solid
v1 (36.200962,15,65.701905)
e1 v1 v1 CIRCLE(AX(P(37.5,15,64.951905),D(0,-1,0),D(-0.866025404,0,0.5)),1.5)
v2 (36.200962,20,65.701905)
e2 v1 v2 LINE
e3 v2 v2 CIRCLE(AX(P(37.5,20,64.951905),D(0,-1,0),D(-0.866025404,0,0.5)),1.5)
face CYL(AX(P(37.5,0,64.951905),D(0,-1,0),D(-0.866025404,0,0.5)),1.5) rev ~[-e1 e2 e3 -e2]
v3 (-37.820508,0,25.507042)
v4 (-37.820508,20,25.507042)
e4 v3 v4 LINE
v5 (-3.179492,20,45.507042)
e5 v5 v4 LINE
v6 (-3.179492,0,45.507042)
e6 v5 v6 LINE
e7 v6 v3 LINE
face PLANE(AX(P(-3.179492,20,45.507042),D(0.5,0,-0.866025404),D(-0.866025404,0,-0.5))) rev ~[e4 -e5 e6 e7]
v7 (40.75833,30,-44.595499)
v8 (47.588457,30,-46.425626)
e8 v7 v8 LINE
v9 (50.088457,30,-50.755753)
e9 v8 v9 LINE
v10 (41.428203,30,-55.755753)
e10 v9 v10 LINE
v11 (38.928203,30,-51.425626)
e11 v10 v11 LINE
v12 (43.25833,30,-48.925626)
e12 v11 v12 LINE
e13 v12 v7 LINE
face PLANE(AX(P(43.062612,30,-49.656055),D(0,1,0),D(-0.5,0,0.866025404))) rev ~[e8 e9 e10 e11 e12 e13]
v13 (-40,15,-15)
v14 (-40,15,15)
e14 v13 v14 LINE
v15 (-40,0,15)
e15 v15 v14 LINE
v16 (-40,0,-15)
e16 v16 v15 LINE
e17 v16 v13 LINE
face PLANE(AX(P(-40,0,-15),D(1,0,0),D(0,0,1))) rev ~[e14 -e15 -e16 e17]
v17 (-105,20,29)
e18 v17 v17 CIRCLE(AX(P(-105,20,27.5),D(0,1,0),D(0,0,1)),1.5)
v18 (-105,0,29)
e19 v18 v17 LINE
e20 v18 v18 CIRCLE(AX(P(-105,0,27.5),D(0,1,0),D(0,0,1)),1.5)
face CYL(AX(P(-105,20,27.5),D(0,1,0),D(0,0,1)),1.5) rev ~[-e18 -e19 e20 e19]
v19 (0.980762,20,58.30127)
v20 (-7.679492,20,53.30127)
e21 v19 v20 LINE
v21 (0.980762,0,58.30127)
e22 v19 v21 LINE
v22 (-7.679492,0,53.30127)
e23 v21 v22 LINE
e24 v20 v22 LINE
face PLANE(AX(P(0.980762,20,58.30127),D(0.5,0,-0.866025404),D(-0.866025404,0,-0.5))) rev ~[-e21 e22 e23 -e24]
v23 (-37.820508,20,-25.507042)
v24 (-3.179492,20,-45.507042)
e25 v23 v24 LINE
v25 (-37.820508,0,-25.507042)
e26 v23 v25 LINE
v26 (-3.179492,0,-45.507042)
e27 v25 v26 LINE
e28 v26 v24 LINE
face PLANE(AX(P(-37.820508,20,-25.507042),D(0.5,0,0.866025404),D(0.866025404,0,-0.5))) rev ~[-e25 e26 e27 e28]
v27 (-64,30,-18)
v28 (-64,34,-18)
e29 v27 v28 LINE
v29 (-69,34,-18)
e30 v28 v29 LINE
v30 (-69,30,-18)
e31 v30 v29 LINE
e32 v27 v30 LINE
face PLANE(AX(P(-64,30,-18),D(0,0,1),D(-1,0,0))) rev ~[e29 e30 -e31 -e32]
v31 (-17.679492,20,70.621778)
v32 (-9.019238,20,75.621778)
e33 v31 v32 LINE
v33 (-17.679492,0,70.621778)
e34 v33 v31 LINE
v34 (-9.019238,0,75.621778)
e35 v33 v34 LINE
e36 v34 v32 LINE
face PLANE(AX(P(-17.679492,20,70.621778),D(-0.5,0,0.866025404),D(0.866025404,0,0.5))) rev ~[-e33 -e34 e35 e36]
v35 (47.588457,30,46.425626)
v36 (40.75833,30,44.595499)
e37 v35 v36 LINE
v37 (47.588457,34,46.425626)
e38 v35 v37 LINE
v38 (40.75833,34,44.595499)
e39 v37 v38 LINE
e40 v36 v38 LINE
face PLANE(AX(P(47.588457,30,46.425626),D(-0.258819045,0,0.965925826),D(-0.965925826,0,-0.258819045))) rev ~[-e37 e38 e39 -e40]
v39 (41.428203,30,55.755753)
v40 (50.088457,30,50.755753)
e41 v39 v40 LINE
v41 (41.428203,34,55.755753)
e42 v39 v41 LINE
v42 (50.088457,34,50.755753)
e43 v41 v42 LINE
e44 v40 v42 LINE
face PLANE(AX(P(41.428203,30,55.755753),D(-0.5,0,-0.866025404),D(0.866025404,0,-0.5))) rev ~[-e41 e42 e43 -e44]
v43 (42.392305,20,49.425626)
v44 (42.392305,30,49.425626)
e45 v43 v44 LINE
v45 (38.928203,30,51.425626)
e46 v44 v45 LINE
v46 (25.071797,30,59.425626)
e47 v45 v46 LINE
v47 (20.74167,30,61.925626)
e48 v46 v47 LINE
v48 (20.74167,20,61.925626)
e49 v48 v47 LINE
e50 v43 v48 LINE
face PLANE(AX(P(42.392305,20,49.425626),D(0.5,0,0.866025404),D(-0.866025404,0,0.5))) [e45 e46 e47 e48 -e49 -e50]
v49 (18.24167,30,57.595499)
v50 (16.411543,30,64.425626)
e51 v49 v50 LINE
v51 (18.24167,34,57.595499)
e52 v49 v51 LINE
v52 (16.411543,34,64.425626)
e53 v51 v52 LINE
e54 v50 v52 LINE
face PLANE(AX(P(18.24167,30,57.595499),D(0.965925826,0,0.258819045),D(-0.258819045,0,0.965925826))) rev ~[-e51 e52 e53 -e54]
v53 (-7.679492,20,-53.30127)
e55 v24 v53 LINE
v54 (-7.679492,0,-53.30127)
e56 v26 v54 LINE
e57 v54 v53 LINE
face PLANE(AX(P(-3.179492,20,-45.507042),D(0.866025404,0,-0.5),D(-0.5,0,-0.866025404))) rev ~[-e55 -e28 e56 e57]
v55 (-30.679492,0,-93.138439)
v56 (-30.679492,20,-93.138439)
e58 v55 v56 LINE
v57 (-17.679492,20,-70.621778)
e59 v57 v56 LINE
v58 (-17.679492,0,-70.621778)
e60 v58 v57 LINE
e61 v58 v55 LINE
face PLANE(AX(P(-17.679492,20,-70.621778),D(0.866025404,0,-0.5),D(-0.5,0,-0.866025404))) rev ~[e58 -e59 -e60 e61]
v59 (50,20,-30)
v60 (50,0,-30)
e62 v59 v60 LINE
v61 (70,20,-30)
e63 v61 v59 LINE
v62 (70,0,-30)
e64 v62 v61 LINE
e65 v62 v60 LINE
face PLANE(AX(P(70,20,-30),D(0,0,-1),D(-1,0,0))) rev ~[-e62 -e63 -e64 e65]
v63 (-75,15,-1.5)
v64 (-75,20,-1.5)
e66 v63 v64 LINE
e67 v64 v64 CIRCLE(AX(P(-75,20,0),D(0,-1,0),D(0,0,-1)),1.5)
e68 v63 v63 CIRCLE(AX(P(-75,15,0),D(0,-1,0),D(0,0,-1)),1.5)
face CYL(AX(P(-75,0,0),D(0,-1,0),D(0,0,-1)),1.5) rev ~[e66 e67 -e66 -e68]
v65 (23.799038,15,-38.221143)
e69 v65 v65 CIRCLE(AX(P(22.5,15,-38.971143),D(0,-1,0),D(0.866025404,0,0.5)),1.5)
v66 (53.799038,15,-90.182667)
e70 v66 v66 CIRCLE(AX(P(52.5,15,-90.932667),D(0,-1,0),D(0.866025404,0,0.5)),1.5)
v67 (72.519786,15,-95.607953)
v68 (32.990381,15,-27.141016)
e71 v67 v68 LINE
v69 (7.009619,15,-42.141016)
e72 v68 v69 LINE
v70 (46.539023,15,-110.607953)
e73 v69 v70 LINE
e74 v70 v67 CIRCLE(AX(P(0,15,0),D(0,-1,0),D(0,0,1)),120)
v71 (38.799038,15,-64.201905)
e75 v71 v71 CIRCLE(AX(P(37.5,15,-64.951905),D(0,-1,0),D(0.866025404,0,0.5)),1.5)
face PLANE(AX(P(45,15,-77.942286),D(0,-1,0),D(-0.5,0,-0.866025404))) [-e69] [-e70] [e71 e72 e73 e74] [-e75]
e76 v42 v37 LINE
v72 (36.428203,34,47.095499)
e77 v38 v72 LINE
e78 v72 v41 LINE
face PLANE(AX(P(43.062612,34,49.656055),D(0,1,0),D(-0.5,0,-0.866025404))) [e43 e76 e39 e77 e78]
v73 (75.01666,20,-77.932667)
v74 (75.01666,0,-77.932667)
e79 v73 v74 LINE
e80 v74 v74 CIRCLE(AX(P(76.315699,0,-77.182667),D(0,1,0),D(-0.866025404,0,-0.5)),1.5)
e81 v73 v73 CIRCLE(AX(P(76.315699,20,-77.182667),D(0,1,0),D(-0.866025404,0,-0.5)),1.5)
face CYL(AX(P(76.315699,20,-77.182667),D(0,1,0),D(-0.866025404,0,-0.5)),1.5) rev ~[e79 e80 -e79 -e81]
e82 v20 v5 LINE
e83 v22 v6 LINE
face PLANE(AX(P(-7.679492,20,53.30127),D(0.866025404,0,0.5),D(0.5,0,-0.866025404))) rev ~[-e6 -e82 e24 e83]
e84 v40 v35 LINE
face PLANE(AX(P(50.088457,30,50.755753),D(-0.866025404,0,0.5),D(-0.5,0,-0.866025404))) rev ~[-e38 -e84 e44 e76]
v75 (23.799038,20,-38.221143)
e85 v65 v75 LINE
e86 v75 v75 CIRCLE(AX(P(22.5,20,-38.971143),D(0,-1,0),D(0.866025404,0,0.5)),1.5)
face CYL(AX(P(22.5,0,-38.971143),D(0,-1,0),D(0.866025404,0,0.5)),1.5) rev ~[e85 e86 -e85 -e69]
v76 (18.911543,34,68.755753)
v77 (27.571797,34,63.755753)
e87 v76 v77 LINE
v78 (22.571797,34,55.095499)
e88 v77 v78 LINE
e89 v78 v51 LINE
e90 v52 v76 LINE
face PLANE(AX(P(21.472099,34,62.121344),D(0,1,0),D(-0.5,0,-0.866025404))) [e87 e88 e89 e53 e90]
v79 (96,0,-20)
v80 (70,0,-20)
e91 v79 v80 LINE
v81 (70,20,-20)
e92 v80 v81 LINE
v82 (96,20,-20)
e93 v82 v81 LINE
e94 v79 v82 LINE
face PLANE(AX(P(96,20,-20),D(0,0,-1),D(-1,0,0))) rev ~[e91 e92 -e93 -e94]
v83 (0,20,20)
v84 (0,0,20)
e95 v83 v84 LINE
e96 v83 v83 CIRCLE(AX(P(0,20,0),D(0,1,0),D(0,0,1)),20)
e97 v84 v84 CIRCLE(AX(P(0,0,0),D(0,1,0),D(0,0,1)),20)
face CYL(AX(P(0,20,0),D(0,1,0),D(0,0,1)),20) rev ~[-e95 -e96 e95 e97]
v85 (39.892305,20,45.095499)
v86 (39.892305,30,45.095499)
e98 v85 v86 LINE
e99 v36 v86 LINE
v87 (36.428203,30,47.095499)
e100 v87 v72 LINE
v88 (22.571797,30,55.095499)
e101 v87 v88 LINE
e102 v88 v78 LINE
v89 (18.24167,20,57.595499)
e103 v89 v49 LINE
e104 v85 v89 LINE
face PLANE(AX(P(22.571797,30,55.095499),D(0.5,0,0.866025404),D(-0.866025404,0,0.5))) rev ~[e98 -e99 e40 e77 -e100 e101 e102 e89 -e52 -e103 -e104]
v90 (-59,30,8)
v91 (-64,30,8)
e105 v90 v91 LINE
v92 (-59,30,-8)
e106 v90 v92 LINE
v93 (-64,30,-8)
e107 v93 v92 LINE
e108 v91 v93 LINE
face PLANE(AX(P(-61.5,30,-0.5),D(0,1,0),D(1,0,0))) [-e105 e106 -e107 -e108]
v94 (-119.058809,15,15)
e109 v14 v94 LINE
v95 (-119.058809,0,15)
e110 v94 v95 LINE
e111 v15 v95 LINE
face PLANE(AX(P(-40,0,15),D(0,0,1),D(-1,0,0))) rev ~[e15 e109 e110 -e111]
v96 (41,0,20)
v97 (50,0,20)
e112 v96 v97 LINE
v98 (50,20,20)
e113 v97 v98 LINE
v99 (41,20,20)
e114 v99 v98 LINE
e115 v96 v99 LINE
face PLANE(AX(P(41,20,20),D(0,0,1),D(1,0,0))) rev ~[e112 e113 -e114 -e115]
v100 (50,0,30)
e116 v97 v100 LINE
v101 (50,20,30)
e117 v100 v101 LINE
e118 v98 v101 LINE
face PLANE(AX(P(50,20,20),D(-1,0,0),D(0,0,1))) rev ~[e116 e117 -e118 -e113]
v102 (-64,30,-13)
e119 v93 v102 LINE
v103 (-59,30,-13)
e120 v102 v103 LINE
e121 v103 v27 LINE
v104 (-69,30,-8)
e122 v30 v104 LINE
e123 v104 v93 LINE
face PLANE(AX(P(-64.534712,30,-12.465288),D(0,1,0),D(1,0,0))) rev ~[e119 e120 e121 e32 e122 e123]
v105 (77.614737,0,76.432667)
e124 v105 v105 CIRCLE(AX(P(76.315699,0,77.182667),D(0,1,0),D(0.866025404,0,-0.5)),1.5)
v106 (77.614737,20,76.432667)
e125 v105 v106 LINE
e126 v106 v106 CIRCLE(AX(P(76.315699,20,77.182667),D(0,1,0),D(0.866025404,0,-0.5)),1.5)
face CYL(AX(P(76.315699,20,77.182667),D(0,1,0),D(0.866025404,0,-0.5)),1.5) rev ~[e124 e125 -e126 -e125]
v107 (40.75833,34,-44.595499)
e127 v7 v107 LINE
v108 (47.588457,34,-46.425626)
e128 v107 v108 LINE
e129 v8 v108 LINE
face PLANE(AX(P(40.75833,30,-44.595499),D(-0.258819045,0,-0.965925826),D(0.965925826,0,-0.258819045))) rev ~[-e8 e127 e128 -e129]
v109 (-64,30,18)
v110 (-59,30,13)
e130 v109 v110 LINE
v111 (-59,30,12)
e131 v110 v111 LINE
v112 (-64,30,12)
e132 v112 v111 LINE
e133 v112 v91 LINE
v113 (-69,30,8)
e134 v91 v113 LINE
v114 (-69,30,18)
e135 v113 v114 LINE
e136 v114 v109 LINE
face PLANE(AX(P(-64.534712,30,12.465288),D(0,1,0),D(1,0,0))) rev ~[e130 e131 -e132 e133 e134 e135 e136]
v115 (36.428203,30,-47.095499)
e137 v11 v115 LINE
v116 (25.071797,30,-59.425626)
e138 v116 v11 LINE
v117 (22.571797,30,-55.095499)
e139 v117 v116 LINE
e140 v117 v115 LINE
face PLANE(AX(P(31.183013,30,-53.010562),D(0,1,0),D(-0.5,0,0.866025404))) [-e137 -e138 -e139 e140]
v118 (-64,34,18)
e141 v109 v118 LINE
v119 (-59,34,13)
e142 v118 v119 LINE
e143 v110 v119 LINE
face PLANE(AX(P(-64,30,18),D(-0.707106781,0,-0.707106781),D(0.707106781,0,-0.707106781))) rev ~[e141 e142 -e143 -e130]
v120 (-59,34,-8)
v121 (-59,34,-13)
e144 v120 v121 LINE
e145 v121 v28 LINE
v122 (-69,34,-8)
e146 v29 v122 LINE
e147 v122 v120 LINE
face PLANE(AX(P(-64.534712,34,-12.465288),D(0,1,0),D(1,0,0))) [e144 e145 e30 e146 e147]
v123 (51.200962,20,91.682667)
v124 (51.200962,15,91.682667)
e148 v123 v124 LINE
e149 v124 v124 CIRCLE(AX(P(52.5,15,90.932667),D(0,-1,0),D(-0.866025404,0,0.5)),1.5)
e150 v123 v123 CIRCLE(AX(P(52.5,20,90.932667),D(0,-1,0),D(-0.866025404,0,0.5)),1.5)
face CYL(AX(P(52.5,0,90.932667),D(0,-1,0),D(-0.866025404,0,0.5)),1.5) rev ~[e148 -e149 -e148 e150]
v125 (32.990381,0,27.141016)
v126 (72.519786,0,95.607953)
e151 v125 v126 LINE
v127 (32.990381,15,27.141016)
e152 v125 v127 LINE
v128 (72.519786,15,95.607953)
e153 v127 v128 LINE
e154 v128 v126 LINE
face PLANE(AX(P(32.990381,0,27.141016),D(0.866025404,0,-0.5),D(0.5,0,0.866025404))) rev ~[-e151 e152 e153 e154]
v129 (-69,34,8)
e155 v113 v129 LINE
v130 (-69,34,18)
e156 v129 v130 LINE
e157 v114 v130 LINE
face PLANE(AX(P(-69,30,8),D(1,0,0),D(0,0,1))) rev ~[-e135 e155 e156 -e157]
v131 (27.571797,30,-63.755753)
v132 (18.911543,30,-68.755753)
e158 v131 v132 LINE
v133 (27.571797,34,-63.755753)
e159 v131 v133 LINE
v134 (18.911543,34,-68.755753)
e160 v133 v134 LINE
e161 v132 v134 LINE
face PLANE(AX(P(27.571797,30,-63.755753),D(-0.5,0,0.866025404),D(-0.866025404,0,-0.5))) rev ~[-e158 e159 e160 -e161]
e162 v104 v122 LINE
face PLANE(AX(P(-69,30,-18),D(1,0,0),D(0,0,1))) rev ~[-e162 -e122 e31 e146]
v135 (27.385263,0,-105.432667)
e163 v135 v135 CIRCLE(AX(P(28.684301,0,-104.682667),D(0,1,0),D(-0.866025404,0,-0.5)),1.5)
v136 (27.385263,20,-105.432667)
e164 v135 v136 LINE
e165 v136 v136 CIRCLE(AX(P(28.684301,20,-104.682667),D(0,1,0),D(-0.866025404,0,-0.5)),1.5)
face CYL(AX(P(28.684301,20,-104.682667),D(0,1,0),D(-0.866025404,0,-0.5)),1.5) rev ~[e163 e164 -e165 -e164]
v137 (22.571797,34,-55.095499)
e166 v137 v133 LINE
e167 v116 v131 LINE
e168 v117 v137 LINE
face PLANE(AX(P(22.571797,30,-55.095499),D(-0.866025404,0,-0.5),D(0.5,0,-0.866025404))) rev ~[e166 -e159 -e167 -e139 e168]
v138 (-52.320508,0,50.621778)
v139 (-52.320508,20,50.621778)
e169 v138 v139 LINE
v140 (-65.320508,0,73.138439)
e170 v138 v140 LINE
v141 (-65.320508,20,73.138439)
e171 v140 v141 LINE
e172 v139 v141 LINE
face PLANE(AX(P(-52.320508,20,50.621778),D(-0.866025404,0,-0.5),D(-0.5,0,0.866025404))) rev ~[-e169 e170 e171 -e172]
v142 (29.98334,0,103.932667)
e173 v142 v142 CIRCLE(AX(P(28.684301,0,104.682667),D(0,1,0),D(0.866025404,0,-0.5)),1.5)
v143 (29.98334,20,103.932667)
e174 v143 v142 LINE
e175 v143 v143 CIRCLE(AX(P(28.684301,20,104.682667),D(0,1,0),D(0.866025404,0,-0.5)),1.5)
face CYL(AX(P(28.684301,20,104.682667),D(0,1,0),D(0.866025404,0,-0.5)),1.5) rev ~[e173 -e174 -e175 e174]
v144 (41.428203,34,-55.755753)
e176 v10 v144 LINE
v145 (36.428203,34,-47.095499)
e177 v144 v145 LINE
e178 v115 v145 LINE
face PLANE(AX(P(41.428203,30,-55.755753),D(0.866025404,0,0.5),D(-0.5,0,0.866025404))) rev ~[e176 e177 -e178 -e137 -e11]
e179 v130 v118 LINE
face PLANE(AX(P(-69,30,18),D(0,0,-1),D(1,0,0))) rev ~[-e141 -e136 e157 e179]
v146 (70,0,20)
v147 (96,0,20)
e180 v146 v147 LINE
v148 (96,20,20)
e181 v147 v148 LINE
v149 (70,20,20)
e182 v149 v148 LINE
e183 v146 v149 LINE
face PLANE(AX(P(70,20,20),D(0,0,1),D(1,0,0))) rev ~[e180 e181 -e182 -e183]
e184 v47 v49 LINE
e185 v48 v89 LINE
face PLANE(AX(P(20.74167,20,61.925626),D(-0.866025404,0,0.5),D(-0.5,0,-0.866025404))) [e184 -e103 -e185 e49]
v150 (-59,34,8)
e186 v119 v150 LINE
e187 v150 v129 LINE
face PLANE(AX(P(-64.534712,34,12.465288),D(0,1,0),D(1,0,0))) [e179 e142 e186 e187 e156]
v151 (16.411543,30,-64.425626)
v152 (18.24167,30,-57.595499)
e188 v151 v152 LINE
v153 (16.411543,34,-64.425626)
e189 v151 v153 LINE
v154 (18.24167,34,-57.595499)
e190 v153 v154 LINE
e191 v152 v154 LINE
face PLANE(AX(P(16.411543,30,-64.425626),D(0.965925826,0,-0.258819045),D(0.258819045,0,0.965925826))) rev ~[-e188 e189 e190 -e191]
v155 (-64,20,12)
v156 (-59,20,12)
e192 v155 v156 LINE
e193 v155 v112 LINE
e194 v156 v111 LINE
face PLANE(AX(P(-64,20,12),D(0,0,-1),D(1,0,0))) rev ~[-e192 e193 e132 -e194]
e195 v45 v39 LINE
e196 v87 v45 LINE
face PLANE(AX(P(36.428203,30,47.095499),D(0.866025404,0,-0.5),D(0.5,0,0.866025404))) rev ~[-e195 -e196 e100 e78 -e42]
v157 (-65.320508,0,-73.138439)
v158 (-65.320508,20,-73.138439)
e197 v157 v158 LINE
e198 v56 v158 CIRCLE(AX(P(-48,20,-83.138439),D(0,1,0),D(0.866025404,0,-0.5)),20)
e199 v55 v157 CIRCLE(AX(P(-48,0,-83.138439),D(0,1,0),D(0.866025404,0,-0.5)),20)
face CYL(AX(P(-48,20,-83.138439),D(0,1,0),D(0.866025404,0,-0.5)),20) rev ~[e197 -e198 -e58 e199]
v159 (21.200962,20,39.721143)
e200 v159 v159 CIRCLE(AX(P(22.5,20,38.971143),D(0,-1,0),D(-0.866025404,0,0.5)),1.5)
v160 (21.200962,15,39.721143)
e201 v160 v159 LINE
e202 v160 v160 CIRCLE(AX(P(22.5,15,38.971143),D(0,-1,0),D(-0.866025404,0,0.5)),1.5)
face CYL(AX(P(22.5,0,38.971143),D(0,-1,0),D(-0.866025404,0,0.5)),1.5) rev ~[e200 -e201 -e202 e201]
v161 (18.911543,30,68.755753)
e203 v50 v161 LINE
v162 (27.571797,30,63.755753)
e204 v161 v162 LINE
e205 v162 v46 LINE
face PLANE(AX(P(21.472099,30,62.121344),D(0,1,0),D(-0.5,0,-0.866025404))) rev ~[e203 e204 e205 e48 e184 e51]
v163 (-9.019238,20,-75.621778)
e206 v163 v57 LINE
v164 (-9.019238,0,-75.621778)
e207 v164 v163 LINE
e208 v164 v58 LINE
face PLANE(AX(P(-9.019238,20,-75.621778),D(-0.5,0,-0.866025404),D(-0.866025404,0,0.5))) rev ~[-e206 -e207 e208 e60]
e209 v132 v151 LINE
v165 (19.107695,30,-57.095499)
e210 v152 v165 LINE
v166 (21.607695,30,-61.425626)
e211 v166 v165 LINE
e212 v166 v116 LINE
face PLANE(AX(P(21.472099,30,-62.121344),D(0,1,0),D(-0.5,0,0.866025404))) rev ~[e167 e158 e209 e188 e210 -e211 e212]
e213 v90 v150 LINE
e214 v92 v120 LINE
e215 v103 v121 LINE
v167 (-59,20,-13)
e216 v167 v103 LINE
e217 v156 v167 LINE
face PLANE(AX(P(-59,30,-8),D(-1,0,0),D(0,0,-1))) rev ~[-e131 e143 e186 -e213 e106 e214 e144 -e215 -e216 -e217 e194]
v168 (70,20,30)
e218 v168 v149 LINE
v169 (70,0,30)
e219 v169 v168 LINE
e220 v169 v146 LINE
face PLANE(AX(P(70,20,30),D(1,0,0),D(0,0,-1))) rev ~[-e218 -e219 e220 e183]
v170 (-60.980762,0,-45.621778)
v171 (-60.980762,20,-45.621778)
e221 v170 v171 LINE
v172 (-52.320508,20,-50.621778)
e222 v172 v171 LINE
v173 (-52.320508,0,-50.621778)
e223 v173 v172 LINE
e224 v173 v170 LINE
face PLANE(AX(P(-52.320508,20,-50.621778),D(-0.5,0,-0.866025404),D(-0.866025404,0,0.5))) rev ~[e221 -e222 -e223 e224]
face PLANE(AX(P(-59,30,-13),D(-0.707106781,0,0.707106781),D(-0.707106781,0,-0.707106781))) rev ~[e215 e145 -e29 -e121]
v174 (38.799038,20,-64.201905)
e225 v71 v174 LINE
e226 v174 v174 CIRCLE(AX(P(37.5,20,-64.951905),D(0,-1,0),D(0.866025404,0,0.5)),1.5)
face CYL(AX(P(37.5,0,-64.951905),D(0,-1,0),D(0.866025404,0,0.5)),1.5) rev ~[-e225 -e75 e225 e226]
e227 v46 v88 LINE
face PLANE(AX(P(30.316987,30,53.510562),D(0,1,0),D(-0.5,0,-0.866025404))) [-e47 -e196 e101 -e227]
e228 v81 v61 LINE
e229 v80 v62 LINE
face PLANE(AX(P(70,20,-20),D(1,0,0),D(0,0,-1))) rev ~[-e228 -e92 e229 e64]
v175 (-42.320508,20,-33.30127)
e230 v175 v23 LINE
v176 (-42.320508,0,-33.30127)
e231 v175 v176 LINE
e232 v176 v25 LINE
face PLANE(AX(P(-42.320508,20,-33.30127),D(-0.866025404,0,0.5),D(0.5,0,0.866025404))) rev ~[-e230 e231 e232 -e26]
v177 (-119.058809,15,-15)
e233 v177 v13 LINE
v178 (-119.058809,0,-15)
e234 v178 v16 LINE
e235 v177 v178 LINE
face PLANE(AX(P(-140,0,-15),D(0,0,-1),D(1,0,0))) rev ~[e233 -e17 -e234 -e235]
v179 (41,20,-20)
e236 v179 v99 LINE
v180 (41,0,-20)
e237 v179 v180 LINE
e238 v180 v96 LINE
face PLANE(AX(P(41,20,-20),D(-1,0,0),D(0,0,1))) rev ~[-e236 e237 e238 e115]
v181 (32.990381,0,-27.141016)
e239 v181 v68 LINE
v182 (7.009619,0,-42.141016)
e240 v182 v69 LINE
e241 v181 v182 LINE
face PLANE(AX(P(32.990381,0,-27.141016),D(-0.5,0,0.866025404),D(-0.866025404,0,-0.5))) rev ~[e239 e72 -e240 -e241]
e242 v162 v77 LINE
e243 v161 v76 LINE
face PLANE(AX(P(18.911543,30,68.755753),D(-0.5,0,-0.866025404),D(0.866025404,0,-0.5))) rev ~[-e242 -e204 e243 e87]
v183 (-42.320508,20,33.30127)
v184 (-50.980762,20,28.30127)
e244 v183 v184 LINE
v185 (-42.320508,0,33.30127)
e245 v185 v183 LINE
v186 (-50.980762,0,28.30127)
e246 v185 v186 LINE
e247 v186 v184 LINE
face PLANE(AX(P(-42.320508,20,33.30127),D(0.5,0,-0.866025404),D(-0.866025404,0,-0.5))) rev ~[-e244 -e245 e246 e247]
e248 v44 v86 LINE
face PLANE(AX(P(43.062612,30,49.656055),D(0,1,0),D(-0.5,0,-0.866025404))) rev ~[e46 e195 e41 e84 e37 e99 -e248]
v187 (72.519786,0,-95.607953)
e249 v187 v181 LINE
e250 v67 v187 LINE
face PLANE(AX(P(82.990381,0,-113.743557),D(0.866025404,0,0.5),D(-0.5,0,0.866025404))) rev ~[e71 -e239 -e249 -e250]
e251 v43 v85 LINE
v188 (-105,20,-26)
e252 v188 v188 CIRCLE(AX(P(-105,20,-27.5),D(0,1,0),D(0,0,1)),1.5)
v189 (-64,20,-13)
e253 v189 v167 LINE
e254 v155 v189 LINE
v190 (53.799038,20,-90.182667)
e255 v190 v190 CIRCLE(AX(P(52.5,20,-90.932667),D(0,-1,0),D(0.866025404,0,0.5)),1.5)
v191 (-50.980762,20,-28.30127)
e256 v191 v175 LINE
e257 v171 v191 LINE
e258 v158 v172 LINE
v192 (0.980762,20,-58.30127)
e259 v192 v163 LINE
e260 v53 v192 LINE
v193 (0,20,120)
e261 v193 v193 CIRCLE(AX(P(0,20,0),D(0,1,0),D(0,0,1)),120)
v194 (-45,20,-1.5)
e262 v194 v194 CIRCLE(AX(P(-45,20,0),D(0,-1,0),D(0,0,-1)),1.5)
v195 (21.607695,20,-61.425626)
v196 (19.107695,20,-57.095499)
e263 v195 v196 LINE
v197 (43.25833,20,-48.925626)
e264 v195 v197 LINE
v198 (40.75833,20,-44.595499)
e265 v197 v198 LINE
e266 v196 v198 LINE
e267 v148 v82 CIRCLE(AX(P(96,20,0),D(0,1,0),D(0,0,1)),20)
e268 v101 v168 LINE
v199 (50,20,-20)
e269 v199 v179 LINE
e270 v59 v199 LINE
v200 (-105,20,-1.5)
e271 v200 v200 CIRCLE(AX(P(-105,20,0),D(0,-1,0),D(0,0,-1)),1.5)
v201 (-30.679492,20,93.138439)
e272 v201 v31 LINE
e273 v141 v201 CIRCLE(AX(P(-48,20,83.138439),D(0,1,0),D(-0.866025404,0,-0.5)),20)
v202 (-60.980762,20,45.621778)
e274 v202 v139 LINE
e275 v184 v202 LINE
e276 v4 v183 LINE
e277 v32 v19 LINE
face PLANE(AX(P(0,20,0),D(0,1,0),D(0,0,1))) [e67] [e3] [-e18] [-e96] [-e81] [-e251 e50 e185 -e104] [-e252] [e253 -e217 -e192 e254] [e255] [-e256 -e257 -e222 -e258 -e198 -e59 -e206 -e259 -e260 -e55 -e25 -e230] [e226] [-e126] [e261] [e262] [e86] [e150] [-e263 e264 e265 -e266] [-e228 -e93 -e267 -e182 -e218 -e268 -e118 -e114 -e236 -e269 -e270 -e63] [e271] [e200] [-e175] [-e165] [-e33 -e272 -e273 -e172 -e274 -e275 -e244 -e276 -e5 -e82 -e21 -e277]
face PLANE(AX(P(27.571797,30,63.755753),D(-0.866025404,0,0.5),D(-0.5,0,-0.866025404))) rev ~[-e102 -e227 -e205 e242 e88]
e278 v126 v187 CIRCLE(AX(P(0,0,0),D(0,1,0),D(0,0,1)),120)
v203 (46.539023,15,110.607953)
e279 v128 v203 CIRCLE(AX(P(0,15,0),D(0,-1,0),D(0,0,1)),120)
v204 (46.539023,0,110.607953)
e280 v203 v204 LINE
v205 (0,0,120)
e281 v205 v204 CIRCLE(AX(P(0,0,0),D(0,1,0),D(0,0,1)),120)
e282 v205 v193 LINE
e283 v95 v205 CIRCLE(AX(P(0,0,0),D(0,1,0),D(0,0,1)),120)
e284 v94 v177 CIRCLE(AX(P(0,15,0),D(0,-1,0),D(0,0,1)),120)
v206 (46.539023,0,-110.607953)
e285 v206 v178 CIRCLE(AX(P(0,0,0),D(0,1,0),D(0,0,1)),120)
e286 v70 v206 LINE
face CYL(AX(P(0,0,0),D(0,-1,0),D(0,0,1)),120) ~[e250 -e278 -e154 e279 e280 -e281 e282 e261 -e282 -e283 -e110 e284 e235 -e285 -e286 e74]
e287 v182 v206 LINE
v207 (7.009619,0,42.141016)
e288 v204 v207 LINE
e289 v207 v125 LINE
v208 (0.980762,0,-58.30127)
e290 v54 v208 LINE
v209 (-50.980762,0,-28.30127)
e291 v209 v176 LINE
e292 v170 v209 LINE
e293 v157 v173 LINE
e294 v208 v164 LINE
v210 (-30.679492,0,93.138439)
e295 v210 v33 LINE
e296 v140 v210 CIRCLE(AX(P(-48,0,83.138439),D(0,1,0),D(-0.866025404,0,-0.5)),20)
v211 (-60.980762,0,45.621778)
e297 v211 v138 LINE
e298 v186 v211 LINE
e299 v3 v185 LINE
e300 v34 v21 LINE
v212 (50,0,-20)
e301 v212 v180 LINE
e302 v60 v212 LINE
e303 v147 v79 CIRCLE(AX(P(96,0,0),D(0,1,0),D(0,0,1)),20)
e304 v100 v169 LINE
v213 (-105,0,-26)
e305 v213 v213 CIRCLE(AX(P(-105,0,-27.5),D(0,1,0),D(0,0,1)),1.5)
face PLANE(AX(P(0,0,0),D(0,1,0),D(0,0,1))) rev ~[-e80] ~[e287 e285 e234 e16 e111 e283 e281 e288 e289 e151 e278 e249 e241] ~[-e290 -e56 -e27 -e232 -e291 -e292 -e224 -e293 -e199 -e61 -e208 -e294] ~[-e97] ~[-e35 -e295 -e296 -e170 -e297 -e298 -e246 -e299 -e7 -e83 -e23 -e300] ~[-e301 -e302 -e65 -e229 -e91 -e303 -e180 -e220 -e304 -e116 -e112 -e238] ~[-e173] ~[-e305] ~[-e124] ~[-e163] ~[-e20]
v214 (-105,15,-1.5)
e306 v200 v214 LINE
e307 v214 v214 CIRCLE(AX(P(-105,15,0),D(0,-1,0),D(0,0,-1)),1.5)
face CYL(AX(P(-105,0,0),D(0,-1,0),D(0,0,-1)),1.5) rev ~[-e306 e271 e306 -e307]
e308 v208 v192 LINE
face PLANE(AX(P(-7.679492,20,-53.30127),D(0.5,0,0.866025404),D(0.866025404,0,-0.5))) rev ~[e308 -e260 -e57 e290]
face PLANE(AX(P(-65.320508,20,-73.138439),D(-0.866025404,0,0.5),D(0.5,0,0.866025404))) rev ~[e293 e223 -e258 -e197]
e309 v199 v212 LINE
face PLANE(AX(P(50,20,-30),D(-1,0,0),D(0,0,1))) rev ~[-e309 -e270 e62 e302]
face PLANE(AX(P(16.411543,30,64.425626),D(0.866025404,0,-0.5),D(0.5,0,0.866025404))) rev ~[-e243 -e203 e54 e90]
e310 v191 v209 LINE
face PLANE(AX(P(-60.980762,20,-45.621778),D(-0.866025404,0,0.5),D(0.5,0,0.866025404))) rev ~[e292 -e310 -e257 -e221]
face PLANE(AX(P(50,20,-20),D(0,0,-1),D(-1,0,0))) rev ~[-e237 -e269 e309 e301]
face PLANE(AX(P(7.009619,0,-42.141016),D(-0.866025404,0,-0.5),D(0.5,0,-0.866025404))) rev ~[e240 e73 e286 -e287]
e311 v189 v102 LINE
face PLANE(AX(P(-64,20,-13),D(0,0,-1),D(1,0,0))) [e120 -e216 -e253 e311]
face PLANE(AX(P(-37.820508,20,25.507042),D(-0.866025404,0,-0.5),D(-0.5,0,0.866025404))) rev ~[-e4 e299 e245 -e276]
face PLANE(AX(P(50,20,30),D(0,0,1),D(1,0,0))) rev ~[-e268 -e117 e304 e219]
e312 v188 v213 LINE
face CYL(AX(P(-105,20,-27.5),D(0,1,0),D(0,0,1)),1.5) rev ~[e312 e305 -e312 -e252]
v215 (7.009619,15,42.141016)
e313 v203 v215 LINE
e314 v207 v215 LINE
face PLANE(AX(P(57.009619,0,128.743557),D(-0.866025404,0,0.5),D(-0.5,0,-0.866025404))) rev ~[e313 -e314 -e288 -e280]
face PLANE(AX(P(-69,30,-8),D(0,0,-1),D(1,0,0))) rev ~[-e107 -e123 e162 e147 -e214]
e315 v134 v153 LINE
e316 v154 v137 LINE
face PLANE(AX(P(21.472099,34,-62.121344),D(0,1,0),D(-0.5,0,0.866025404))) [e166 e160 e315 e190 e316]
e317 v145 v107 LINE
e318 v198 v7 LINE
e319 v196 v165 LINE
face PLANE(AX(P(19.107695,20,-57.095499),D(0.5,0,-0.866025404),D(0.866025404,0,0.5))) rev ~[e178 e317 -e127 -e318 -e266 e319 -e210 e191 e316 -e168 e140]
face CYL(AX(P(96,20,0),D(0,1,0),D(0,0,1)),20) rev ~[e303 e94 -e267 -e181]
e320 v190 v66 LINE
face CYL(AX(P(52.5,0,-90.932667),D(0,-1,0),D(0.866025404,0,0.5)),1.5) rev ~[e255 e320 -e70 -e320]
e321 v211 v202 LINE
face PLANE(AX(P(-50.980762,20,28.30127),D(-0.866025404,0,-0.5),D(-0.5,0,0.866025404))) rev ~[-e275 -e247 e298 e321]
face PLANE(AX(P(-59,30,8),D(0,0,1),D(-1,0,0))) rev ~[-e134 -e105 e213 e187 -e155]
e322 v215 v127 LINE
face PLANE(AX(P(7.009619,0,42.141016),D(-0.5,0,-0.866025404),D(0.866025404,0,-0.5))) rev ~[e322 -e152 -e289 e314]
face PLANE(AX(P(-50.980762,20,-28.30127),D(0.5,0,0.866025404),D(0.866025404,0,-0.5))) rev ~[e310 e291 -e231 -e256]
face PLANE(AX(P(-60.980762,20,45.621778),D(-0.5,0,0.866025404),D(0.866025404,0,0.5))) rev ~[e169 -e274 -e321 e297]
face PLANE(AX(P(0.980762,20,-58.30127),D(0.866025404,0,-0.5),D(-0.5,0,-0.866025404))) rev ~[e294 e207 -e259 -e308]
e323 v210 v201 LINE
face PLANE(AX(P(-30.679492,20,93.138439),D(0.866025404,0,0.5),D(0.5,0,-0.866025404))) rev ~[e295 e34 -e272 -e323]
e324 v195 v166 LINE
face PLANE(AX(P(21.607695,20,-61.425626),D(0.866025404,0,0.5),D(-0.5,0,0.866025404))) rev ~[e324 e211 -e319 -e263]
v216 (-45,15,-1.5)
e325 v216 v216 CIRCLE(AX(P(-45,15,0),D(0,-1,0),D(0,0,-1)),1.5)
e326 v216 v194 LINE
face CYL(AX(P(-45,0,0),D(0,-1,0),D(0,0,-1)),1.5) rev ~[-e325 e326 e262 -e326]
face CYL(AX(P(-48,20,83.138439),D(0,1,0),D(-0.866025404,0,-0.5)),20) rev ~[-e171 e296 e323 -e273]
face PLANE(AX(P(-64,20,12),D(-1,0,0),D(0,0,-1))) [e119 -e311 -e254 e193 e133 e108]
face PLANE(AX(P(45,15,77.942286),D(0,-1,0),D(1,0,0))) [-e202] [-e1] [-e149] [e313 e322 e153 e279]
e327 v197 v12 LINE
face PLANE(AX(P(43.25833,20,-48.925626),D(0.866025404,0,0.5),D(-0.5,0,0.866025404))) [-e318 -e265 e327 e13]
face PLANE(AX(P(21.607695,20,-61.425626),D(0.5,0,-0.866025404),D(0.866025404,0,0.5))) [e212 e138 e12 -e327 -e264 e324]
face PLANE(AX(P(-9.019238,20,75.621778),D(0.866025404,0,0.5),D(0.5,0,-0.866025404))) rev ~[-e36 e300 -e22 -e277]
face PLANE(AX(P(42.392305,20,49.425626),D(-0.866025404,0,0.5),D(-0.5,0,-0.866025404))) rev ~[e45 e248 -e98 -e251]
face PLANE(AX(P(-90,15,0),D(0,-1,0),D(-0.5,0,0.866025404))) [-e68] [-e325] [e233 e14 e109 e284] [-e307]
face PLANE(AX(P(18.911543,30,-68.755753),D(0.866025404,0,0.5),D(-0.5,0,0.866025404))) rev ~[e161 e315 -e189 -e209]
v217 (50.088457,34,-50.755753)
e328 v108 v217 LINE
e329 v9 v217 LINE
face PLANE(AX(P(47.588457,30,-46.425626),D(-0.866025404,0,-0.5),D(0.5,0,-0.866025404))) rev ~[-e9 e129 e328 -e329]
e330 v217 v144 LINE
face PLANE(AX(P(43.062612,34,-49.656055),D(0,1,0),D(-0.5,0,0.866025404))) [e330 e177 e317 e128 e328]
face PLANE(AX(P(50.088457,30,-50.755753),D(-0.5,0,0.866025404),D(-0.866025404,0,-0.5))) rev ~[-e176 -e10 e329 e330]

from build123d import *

# Parameters (mm, degrees)
SKETCH_1_R               = 120
EXTRUDE_1_DEPTH          = 20
CUT_EXTRUDE_1_DEPTH      = 171.880074906
CUT_EXTRUDE_1_DEPTH_BACK = 171.880074906
SKETCH_2_R               = 15
CUT_EXTRUDE_2_DEPTH      = 15
PATTERN_CIRCULAR_1_COUNT = 3
SKETCH_5_R               = 1.5
CUT_EXTRUDE_3_DEPTH      = 171.880074906
PATTERN_CIRCULAR_2_COUNT = 3
CUT_EXTRUDE_4_DEPTH      = 171.880074906
PATTERN_CIRCULAR_3_COUNT = 3
SKETCH_7_R               = 20
CUT_EXTRUDE_5_DEPTH      = 171.880074906
SKETCH_8_R               = 1.5
CUT_EXTRUDE_6_DEPTH      = 171.880074906
PATTERN_CIRCULAR_4_COUNT = 3
SKETCH_12_W              = 5
SKETCH_12_H              = 25
EXTRUDE_3_DEPTH          = 10
EXTRUDE_4_DEPTH          = 4
PATTERN_CIRCULAR_5_COUNT = 3


with BuildPart() as part:
    # 草图1 → 凸台-拉伸1 (new body)
    with BuildSketch(Plane(origin=(0, 0, 0), x_dir=(1, 0, 0), z_dir=(0, 1, 0))):
        Circle(SKETCH_1_R)
    extrude(amount=EXTRUDE_1_DEPTH)

    # 草图2 → 切除-拉伸1 (cut, two sides: drawn at the far end of the back side and taken through both)
    with BuildSketch(Plane(origin=(0, 20, 0), x_dir=(1, 0, 0), z_dir=(0, 1, 0)).offset(-CUT_EXTRUDE_1_DEPTH_BACK)):
        with Locations((60, 0)):
            Circle(SKETCH_2_R)
        with Locations((-30, -51.961524227)):
            Circle(SKETCH_2_R)
        with Locations((-30, 51.961524227)):
            Circle(SKETCH_2_R)
    extrude(amount=CUT_EXTRUDE_1_DEPTH + CUT_EXTRUDE_1_DEPTH_BACK, mode=Mode.SUBTRACT)

    # 草图4 → 切除-拉伸2 (cut)
    with BuildSketch(Plane.XZ):
        Polygon((7.009618943, 42.141016151), (32.990381057, 27.141016151), (82.990381057, 113.74355653), (57.009618943, 128.74355653), align=None)
    cut_extrude_2 = extrude(amount=-CUT_EXTRUDE_2_DEPTH, mode=Mode.SUBTRACT)

    # 阵列(圆周)1: 切除-拉伸2 ×3 about axis
    pattern_circular_1_axis = Axis((0, 0, 0), (0, 1, 0))
    for i in range(1, PATTERN_CIRCULAR_1_COUNT):
        add(cut_extrude_2.rotate(pattern_circular_1_axis, i * 360 / PATTERN_CIRCULAR_1_COUNT), mode=Mode.SUBTRACT)

    # 草图5 → 切除-拉伸3 (cut, symmetric)
    with BuildSketch(Plane.XZ):
        with Locations((-45, 0)):
            Circle(SKETCH_5_R)
        with Locations((-75, 0)):
            Circle(SKETCH_5_R)
        with Locations((-105, 0)):
            Circle(SKETCH_5_R)
    cut_extrude_3 = extrude(amount=CUT_EXTRUDE_3_DEPTH, both=True, mode=Mode.SUBTRACT)

    # 阵列(圆周)2: 切除-拉伸3 ×3 about axis
    pattern_circular_2_axis = Axis((0, 0, 0), (0, 1, 0))
    for i in range(1, PATTERN_CIRCULAR_2_COUNT):
        add(cut_extrude_3.rotate(pattern_circular_2_axis, i * 360 / PATTERN_CIRCULAR_2_COUNT), mode=Mode.SUBTRACT)

    # 草图6 → 切除-拉伸4 (cut, symmetric)
    with BuildSketch(Plane(origin=(0, 20, 0), x_dir=(1, 0, 0), z_dir=(0, 1, 0))):
        with BuildLine():
            Line((41, 20), (41, -20))
            Line((41, -20), (50, -20))
            Line((50, -20), (50, -30))
            Line((50, -30), (70, -30))
            Line((70, -30), (70, -20))
            Line((70, -20), (96, -20))
            ThreePointArc((96, -20), (116, 0), (96, 20))
            Line((96, 20), (70, 20))
            Line((70, 20), (70, 30))
            Line((70, 30), (50, 30))
            Line((50, 30), (50, 20))
            Line((50, 20), (41, 20))
        make_face()
    cut_extrude_4 = extrude(amount=CUT_EXTRUDE_4_DEPTH, both=True, mode=Mode.SUBTRACT)

    # 阵列(圆周)3: 切除-拉伸4 ×3 about axis
    pattern_circular_3_axis = Axis((0, 0, 0), (0, 1, 0))
    for i in range(1, PATTERN_CIRCULAR_3_COUNT):
        add(cut_extrude_4.rotate(pattern_circular_3_axis, i * 360 / PATTERN_CIRCULAR_3_COUNT), mode=Mode.SUBTRACT)

    # 草图7 → 切除-拉伸5 (cut, through all)
    with BuildSketch(Plane(origin=(0, 20, 0), x_dir=(1, 0, 0), z_dir=(0, 1, 0))):
        Circle(SKETCH_7_R)
    extrude(amount=-CUT_EXTRUDE_5_DEPTH, mode=Mode.SUBTRACT)

    # 草图8 → 切除-拉伸6 (cut, symmetric)
    with BuildSketch(Plane(origin=(0, 20, 0), x_dir=(1, 0, 0), z_dir=(0, 1, 0))):
        with Locations((-105, 27.5)):
            Circle(SKETCH_8_R)
        with Locations((-105, -27.5)):
            Circle(SKETCH_8_R)
    cut_extrude_6 = extrude(amount=CUT_EXTRUDE_6_DEPTH, both=True, mode=Mode.SUBTRACT)

    # 阵列(圆周)4: 切除-拉伸6 ×3 about axis
    pattern_circular_4_axis = Axis((0, 0, 0), (0, 1, 0))
    for i in range(1, PATTERN_CIRCULAR_4_COUNT):
        add(cut_extrude_6.rotate(pattern_circular_4_axis, i * 360 / PATTERN_CIRCULAR_4_COUNT), mode=Mode.SUBTRACT)

    # 草图12 → 凸台-拉伸3 (add)
    with BuildSketch(Plane(origin=(0, 20, 0), x_dir=(1, 0, 0), z_dir=(0, 1, 0))):
        with Locations((-61.5, 0.5)):
            Rectangle(SKETCH_12_W, SKETCH_12_H)
    extrude_3 = extrude(amount=EXTRUDE_3_DEPTH)

    # 草图13 → 凸台-拉伸4 (add)
    with BuildSketch(Plane(origin=(0, 30, 0), x_dir=(1, 0, 0), z_dir=(0, 1, 0))):
        Polygon((-69, 8), (-59, 8), (-59, 13), (-64, 18), (-69, 18), align=None)
        Polygon((-59, -13), (-59, -8), (-69, -8), (-69, -18), (-64, -18), align=None)
    extrude_4 = extrude(amount=EXTRUDE_4_DEPTH)

    # 阵列(圆周)5: 凸台-拉伸3, 凸台-拉伸4 ×3 about axis
    pattern_circular_5_axis = Axis((0, 0, 0), (0, 1, 0))
    add([extrude_3.rotate(pattern_circular_5_axis, i * 360 / PATTERN_CIRCULAR_5_COUNT) for i in range(1, PATTERN_CIRCULAR_5_COUNT)])
    add([extrude_4.rotate(pattern_circular_5_axis, i * 360 / PATTERN_CIRCULAR_5_COUNT) for i in range(1, PATTERN_CIRCULAR_5_COUNT)])


solid = part.part
